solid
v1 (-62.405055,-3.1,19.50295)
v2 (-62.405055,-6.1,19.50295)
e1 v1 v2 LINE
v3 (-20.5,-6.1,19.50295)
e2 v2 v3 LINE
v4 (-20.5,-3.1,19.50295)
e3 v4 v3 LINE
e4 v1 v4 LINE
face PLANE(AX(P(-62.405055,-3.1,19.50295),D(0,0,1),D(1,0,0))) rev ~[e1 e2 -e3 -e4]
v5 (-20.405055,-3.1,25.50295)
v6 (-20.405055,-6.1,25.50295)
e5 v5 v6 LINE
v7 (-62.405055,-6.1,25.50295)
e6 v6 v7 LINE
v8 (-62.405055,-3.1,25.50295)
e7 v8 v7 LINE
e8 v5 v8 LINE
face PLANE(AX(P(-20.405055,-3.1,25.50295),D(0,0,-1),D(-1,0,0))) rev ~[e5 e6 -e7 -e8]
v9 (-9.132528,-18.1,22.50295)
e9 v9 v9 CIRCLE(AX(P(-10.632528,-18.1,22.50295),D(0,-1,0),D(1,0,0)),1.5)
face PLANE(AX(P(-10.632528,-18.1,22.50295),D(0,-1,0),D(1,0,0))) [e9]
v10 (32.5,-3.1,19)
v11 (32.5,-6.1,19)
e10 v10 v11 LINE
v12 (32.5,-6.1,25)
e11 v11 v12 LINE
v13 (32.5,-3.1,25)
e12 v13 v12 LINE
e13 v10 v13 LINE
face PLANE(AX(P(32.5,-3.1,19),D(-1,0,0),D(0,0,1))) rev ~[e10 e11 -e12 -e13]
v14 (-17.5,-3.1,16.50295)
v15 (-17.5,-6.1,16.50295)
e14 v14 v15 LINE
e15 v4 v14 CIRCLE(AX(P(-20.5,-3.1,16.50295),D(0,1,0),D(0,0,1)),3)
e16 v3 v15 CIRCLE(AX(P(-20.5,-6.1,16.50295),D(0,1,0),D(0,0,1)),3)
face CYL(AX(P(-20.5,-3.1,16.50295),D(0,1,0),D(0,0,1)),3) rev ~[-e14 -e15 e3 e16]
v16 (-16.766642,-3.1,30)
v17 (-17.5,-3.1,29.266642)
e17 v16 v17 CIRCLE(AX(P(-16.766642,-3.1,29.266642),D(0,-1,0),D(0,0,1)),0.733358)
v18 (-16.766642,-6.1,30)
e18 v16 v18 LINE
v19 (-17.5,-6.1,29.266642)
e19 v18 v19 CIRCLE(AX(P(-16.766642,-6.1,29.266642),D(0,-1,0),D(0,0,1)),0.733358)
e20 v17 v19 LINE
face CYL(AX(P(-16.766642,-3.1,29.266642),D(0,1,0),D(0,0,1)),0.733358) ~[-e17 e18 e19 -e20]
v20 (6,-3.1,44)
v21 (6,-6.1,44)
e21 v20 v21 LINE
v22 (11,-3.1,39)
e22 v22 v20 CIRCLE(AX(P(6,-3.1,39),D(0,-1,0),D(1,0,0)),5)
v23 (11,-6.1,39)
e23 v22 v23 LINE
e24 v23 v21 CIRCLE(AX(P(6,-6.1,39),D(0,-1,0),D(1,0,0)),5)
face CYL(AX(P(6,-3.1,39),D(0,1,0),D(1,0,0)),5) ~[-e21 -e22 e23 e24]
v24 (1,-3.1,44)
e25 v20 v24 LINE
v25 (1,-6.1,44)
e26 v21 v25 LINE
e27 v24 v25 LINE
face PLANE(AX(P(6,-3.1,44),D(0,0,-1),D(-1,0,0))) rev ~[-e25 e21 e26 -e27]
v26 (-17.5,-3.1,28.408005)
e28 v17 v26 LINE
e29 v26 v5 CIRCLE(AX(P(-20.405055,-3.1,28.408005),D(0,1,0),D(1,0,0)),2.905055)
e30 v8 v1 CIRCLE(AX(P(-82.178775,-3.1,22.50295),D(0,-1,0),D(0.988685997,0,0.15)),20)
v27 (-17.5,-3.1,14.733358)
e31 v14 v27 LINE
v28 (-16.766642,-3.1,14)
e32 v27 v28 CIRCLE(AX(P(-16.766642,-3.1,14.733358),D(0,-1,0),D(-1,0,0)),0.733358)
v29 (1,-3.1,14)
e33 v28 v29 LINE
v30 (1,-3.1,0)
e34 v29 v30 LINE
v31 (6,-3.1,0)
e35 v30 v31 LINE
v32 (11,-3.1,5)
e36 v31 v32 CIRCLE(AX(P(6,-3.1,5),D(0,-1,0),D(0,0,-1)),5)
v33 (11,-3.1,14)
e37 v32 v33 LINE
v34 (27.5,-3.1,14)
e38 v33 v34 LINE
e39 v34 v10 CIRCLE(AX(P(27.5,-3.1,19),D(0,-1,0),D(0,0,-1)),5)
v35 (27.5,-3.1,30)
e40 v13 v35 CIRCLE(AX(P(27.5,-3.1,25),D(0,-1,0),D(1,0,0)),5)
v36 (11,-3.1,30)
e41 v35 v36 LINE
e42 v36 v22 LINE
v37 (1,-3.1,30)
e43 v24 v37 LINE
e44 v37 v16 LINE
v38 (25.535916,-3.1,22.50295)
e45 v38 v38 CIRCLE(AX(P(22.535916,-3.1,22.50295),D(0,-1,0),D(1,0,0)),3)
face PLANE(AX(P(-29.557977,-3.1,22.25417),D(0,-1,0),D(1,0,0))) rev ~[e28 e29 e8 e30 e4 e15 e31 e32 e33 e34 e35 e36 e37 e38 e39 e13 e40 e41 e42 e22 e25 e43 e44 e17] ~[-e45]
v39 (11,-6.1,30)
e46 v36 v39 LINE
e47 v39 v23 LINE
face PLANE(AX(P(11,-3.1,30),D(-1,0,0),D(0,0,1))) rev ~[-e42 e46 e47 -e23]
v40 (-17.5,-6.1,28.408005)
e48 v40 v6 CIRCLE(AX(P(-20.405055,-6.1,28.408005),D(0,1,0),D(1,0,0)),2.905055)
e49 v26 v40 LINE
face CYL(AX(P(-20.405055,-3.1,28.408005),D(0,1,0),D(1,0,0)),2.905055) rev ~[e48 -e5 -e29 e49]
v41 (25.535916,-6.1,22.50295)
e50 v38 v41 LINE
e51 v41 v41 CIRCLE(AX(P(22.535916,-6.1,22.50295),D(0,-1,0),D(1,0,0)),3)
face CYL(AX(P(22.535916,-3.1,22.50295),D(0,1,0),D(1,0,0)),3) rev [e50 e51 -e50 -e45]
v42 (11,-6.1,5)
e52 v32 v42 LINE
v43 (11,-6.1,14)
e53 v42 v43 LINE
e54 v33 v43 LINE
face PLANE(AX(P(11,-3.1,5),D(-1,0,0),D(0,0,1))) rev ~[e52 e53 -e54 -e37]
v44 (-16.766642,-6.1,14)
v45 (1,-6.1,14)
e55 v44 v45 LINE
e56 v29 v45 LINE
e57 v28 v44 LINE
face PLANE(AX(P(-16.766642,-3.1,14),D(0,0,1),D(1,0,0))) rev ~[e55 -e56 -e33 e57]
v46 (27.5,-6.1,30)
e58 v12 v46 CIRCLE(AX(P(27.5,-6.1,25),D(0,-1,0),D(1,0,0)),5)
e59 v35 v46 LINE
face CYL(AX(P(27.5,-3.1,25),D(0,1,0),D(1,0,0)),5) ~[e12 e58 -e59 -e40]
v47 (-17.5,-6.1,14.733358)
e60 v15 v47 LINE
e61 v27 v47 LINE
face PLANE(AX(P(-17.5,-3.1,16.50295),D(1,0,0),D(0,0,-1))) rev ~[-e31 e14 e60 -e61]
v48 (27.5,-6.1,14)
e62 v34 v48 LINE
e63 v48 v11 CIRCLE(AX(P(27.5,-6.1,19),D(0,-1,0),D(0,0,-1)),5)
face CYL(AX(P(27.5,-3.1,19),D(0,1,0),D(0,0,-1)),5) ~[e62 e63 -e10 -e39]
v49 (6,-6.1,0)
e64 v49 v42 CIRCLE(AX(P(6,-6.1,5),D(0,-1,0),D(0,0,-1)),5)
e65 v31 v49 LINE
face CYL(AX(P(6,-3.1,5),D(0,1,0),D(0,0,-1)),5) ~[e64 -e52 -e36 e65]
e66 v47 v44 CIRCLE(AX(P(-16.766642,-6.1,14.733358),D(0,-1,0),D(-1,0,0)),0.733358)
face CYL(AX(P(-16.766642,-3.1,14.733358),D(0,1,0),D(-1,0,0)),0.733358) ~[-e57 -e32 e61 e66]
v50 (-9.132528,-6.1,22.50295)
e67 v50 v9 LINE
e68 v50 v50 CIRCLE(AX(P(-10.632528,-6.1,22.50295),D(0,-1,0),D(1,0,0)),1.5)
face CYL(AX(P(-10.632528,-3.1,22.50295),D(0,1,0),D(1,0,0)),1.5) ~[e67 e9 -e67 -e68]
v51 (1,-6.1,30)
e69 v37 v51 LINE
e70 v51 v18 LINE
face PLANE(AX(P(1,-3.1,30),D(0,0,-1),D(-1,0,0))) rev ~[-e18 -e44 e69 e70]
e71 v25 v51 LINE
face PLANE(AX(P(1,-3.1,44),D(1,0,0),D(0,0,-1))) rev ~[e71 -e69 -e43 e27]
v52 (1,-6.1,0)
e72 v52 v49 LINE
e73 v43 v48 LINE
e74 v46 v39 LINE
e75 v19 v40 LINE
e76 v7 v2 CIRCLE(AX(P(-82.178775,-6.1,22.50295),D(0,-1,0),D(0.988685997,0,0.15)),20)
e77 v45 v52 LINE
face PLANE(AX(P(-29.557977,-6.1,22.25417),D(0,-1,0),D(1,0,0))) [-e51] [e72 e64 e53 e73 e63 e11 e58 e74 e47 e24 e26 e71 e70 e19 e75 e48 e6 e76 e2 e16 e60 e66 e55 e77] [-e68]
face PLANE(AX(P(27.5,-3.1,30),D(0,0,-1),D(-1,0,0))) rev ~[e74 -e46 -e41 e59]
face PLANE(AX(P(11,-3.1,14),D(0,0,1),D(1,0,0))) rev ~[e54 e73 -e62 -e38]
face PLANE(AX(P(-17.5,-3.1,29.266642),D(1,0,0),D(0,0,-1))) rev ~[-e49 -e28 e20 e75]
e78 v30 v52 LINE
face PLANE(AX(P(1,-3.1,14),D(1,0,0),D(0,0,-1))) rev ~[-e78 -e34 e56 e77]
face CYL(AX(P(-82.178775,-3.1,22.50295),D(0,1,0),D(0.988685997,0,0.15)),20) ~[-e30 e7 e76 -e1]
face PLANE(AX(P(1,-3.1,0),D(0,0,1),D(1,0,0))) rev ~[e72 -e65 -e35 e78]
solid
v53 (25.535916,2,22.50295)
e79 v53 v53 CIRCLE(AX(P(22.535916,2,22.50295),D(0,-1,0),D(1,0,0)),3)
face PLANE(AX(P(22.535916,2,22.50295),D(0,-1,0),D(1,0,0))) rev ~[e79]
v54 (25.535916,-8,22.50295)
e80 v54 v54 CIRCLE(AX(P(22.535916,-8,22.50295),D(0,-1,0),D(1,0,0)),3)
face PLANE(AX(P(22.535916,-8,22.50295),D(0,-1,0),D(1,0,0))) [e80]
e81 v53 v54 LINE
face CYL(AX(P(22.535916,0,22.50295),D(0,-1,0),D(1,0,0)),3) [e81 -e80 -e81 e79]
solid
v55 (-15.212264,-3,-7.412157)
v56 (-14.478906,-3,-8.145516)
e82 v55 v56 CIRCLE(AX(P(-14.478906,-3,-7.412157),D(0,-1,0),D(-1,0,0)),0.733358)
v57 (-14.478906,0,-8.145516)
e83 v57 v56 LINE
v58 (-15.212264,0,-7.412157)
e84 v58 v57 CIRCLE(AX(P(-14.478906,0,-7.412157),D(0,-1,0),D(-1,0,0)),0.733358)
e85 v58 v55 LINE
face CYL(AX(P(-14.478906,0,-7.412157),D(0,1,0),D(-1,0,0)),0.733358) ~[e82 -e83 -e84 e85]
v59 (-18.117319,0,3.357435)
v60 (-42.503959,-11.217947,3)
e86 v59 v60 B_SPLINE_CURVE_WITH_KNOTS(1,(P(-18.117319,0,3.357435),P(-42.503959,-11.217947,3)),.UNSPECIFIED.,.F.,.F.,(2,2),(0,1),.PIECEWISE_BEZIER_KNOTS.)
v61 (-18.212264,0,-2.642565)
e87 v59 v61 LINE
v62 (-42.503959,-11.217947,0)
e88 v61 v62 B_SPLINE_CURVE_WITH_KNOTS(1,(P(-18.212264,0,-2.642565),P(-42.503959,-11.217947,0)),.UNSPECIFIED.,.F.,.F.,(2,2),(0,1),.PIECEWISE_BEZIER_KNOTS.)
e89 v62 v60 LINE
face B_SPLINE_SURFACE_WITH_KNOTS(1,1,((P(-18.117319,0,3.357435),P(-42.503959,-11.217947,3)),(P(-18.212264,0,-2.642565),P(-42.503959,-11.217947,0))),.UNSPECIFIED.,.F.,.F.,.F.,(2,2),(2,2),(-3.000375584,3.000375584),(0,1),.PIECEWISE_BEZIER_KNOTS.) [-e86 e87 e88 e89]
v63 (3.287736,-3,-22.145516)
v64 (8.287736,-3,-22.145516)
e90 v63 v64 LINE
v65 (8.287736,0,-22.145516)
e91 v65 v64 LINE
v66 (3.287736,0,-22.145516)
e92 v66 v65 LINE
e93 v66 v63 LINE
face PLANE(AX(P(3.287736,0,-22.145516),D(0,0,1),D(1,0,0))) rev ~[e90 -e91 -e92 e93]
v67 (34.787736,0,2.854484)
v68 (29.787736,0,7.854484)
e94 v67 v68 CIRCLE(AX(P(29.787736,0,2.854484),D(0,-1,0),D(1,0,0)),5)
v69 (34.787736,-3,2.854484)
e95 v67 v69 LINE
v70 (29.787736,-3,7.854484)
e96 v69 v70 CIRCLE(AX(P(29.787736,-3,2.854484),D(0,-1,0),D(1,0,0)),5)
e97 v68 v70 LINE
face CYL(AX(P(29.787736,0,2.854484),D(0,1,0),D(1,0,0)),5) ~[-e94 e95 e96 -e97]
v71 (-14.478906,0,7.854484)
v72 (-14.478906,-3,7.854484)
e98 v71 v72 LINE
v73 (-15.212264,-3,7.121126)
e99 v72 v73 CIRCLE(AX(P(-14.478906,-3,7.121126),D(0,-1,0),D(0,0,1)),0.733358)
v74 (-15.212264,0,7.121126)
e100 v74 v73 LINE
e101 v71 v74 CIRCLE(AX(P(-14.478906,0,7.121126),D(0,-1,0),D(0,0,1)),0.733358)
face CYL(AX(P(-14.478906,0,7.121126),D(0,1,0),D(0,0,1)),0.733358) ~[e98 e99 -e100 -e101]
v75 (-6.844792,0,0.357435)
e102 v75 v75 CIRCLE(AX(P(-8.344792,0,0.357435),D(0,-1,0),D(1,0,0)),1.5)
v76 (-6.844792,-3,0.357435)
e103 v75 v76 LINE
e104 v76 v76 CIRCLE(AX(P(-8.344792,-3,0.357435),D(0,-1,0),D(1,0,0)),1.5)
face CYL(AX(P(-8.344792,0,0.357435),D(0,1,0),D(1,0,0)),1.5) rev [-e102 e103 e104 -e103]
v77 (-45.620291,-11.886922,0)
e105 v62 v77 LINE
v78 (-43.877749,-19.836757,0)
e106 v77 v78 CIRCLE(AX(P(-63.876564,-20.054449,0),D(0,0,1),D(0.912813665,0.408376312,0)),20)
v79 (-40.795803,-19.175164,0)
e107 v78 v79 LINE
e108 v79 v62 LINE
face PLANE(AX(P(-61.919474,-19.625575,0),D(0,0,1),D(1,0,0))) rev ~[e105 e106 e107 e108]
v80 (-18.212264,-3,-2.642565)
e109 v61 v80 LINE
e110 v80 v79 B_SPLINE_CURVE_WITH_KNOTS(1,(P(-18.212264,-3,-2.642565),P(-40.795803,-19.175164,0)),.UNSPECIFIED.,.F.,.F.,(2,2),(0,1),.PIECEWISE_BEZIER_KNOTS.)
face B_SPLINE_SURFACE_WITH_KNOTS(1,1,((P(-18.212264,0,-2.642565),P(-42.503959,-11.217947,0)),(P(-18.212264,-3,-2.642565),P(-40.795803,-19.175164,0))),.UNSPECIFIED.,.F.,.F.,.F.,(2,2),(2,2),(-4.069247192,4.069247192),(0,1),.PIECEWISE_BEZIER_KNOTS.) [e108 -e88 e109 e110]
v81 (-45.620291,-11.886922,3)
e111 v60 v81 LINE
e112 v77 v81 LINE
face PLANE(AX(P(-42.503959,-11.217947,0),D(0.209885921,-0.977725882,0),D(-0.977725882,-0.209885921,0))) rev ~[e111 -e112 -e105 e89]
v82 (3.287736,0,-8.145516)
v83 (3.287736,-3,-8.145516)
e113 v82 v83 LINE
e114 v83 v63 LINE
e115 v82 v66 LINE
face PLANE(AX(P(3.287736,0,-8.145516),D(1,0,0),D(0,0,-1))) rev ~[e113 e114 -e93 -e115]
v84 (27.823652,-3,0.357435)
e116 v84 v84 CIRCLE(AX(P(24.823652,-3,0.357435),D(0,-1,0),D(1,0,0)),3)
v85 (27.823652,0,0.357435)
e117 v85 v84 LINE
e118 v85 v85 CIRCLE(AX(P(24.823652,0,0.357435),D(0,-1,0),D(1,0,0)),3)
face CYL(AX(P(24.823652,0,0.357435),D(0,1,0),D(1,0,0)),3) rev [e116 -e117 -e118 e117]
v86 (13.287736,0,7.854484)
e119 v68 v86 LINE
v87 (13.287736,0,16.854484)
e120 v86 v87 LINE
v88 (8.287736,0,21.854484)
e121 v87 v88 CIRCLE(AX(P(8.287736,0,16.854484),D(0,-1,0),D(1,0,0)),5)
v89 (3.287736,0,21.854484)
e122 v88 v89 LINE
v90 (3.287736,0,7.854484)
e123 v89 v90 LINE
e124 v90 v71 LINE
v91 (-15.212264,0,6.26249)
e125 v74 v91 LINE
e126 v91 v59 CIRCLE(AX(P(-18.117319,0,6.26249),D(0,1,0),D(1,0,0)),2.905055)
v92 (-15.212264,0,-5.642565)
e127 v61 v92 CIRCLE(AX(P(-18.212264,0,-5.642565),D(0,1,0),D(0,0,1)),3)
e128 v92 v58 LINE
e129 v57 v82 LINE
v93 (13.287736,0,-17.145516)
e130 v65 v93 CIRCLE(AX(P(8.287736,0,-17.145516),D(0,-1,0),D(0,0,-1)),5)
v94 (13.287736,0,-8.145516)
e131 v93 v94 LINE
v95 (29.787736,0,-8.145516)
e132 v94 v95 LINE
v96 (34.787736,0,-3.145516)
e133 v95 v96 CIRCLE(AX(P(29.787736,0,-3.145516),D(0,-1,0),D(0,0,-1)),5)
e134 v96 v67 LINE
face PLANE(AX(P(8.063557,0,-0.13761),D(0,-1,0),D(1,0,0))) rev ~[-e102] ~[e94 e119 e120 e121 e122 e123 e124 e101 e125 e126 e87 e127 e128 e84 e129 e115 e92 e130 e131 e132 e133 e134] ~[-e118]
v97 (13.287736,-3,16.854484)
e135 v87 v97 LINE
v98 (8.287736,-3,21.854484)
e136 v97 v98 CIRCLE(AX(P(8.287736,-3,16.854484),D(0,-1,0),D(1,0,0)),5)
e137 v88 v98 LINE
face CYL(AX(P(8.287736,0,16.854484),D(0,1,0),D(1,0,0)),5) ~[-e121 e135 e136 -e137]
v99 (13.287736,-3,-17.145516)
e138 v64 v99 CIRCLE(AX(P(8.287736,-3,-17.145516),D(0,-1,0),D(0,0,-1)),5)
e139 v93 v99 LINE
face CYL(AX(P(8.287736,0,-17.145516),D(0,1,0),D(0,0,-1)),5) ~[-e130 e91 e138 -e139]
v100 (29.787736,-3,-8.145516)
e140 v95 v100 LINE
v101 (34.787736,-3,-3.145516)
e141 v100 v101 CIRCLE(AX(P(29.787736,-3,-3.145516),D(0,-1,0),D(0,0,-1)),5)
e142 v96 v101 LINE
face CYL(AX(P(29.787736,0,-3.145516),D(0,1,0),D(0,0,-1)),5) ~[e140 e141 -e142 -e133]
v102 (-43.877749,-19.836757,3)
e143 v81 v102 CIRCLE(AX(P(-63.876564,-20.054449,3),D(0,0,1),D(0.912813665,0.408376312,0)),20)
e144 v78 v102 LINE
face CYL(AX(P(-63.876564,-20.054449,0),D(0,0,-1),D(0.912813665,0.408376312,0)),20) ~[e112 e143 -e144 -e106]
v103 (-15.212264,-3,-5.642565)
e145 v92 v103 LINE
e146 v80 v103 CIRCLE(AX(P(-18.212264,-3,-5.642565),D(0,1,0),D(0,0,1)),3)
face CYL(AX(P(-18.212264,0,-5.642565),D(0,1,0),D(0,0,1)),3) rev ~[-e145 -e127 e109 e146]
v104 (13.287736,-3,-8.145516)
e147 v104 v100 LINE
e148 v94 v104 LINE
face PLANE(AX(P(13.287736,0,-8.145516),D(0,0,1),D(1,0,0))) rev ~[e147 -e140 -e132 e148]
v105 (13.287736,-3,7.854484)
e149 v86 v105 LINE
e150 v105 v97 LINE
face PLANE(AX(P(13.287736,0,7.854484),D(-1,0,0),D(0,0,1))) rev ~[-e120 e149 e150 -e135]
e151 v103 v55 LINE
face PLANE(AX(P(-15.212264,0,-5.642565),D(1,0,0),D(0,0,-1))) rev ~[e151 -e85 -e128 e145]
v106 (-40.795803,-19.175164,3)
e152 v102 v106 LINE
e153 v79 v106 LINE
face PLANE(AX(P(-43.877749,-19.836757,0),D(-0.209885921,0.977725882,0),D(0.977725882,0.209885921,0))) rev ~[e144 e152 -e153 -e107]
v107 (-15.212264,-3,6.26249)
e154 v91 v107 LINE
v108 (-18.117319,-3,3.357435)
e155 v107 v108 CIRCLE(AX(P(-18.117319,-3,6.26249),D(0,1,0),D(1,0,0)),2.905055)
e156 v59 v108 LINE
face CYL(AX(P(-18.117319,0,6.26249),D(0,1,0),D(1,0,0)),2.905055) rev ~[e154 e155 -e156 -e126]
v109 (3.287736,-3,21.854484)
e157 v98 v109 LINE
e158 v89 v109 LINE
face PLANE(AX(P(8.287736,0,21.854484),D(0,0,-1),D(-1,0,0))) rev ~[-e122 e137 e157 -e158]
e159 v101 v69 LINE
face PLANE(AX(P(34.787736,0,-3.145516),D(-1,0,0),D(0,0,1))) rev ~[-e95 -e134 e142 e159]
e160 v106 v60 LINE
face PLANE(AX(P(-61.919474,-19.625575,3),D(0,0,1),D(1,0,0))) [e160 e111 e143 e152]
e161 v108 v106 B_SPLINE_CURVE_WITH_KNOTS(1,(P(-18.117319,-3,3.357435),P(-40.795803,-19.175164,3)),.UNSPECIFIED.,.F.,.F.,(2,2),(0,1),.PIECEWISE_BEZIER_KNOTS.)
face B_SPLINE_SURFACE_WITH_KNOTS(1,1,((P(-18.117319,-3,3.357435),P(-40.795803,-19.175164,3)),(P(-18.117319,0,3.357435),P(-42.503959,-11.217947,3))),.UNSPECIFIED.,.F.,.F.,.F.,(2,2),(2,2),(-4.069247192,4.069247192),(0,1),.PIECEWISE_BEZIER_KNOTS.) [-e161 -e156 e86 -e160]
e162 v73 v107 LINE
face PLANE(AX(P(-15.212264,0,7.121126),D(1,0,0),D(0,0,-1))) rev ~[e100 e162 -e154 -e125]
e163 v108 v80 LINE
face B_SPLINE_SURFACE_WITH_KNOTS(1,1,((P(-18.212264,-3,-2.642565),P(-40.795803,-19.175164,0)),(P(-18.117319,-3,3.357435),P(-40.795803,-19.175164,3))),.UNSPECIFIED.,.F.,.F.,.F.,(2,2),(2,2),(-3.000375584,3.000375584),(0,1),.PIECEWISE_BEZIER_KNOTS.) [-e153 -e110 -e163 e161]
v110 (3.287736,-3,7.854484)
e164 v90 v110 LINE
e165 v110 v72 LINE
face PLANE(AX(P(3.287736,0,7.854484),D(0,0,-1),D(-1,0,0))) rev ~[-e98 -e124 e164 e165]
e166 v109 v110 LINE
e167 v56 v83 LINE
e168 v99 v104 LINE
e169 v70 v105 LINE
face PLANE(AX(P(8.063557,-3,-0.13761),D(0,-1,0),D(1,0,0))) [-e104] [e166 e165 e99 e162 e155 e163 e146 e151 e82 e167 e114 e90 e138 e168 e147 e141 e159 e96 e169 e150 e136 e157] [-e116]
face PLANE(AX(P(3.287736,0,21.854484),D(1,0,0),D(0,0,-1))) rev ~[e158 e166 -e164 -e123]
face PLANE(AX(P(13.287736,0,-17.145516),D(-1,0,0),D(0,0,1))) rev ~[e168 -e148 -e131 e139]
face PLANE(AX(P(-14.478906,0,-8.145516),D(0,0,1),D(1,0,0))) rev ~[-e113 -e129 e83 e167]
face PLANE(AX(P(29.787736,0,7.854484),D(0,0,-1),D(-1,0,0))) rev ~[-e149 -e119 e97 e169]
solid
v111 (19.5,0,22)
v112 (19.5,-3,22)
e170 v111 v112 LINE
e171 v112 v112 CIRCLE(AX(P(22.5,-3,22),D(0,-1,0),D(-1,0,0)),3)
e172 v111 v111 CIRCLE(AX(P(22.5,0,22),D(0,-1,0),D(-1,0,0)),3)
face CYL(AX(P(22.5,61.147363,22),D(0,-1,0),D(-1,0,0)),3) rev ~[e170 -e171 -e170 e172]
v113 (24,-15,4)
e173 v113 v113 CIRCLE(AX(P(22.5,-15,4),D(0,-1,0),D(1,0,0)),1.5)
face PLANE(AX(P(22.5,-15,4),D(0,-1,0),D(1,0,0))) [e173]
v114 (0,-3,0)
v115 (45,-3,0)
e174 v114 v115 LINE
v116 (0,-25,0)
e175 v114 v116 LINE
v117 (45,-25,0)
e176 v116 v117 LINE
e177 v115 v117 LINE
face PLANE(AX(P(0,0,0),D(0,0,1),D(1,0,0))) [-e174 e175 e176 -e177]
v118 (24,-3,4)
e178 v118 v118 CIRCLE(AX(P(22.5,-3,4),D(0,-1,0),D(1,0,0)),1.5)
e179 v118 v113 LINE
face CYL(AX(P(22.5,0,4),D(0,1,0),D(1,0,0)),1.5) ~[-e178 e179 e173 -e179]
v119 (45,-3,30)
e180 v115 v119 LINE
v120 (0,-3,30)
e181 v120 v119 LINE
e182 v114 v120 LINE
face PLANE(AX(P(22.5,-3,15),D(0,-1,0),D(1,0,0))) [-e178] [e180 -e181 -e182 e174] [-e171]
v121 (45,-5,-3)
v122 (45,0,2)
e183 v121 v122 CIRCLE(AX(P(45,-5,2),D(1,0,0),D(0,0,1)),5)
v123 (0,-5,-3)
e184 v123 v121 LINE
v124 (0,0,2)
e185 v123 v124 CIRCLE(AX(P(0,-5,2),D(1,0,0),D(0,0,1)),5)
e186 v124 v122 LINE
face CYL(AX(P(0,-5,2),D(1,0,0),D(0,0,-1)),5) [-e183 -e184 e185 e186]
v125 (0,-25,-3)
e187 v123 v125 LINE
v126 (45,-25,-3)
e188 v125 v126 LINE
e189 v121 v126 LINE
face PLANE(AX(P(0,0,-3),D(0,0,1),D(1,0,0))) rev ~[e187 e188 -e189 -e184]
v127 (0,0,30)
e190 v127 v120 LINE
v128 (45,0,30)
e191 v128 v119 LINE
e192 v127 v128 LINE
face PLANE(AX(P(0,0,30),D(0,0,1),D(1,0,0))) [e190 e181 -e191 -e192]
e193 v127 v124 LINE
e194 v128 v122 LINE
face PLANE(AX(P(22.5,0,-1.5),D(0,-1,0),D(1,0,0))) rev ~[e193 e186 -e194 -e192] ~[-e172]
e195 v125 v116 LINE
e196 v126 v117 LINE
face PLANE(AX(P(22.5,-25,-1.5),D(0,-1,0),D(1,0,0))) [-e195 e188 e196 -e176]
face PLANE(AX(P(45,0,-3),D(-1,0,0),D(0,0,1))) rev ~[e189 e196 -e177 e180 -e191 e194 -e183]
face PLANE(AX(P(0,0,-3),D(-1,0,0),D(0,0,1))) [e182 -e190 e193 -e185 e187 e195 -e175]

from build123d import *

# Parameters (mm, degrees)
F0_W          = 45
F0_H          = 30
F0_R          = 1.5
F1_DEPTH      = 3
F0_H_2        = 3
F2_DEPTH      = 25
F3_D          = 6
F4_R          = 5
F5_R          = 1.5
F5_R_2        = 3
F6_DEPTH      = 3
F7_DEPTH      = 8
F7_DEPTH_BACK = 2
F8_DEPTH      = 15
F10_DEPTH     = 15
F13_DEPTH     = 3
F12_R         = 1.5
F12_R_2       = 3
F14_DEPTH     = 3
F14_FACE_W    = 3
F14_FACE_H    = 6.0007511677
F13_FACE_W    = 8.1384943845
F13_FACE_H    = 3


with BuildPart() as f1:
    # F0 (on Front) → F1 (new body)
    with BuildSketch(Plane.XZ):
        with Locations((22.5, 15)):
            Rectangle(F0_W, F0_H)
        with Locations((22.5, 4)):
            Circle(F0_R, mode=Mode.SUBTRACT)
    extrude(amount=F1_DEPTH)

    # F0 (on Front) → F2 (join)
    with BuildSketch(Plane.XZ):
        with Locations((22.5, -1.5)):
            Rectangle(F0_W, F0_H_2)
    extrude(amount=F2_DEPTH)

    # F3 (through all)
    with Locations(Plane(origin=(0, 0, 0), x_dir=(1, 0, 0), z_dir=(0, 1, 0))):
        with Locations((22.5, -22)):
            Hole(F3_D / 2)

    # F4
    f4_edges = [f1.edges().sort_by_distance(p)[0] for p in [
        (22.5, 0, -3),
    ]]
    fillet(f4_edges, radius=F4_R)

    # F0 (on Front) → F10 (join)
    with BuildSketch(Plane.XZ):
        with Locations((22.5, 4)):
            Circle(F0_R)
    extrude(amount=F10_DEPTH)


with BuildPart() as f6:
    # F5 (on Front) → F6 (new body)
    with BuildSketch(Plane.XZ):
        with BuildLine():
            ThreePointArc((32.5, 25), (31.0355339059, 28.5355339059), (27.5, 30))
            Line((27.5, 30), (11, 30))
            Line((11, 30), (11, 39))
            ThreePointArc((11, 39), (9.5355339059, 42.5355339059), (6, 44))
            Line((6, 44), (1, 44))
            Line((1, 44), (1, 30))
            Line((1, 30), (-16.7666415907, 30))
            ThreePointArc((-16.7666415907, 30), (-17.285204295, 29.785204295), (-17.5, 29.2666415907))
            Line((-17.5, 29.2666415907), (-17.5, 28.4080051974))
            ThreePointArc((-17.5, 28.4080051974), (-18.3508708734, 26.353821195), (-20.4050548757, 25.5029503216))
            Line((-20.4050548757, 25.5029503216), (-62.4050548757, 25.5029503216))
            ThreePointArc((-62.4050548757, 25.5029503216), (-102.178774809, 22.5029503216), (-62.4050548757, 19.5029503216))
            Line((-62.4050548757, 19.5029503216), (-20.5, 19.5029503216))
            ThreePointArc((-20.5, 19.5029503216), (-18.3786796564, 18.6242706652), (-17.5, 16.5029503216))
            Line((-17.5, 16.5029503216), (-17.5, 14.7333584093))
            ThreePointArc((-17.5, 14.7333584093), (-17.285204295, 14.214795705), (-16.7666415907, 14))
            Line((-16.7666415907, 14), (1, 14))
            Line((1, 14), (1, 0))
            Line((1, 0), (6, 0))
            ThreePointArc((6, 0), (9.5355339059, 1.4644660941), (11, 5))
            Line((11, 5), (11, 14))
            Line((11, 14), (27.5, 14))
            ThreePointArc((27.5, 14), (31.0355339059, 15.4644660941), (32.5, 19))
            Line((32.5, 19), (32.5, 25))
        make_face()
        with Locations((-10.6325279921, 22.5029503216)):
            Circle(F5_R, mode=Mode.SUBTRACT)
        with Locations((22.5359164178, 22.5029503216)):
            Circle(F5_R_2, mode=Mode.SUBTRACT)
    extrude(amount=F6_DEPTH)

    # F5 (on Front) → F8 (join)
    with BuildSketch(Plane.XZ):
        with Locations((-10.6325279921, 22.5029503216)):
            Circle(F5_R)
    extrude(amount=F8_DEPTH)


with BuildPart() as f7:
    # F5 (on Front) → F7 (new body, two sides)
    with BuildSketch(Plane.XZ) as f7_sk:
        with Locations((22.5359164178, 22.5029503216)):
            Circle(F5_R_2)
    extrude(amount=F7_DEPTH)
    extrude(f7_sk.sketch, amount=-F7_DEPTH_BACK)


with BuildPart() as f6_1:
    # F9: moved
    add(f6.part.moved(Location((0, -3.1, 0))))


with BuildPart() as f13:
    # F11 (on Top) → F13 (new body)
    with BuildSketch(Plane.XY):
        with BuildLine():
            Line((-42.503958739, -11.217947247), (-45.620290691, -11.8869222764))
            ThreePointArc((-45.620290691, -11.8869222764), (-83.4127590866, -24.3366303772), (-43.8777487707, -19.8367572071))
            Line((-43.8777487707, -19.8367572071), (-40.7958033527, -19.1751638472))
            Line((-40.7958033527, -19.1751638472), (-42.503958739, -11.217947247))
        make_face()
    extrude(amount=F13_DEPTH)



with BuildPart() as f14:
    # F12 (on Front) → F14 (new body)
    with BuildSketch(Plane.XZ):
        with BuildLine():
            ThreePointArc((34.7877358819, 2.8544844273), (33.3232697878, 6.3900183332), (29.7877358819, 7.8544844273))
            Line((29.7877358819, 7.8544844273), (13.2877358819, 7.8544844273))
            Line((13.2877358819, 7.8544844273), (13.2877358819, 16.8544844273))
            ThreePointArc((13.2877358819, 16.8544844273), (11.8232697878, 20.3900183332), (8.2877358819, 21.8544844273))
            Line((8.2877358819, 21.8544844273), (3.2877358819, 21.8544844273))
            Line((3.2877358819, 21.8544844273), (3.2877358819, 7.8544844273))
            Line((3.2877358819, 7.8544844273), (-14.4789057088, 7.8544844273))
            ThreePointArc((-14.4789057088, 7.8544844273), (-14.9974684131, 7.6396887222), (-15.2122641181, 7.121126018))
            Line((-15.2122641181, 7.121126018), (-15.2122641181, 6.2624896246))
            ThreePointArc((-15.2122641181, 6.2624896246), (-16.0631349915, 4.2083056223), (-18.1173189938, 3.3574347489))
            Line((-18.1173189938, 3.3574347489), (-18.2122641181, -2.6425652511))
            ThreePointArc((-18.2122641181, -2.6425652511), (-16.0909437745, -3.5212449075), (-15.2122641181, -5.6425652511))
            Line((-15.2122641181, -5.6425652511), (-15.2122641181, -7.4121571635))
            ThreePointArc((-15.2122641181, -7.4121571635), (-14.9974684131, -7.9307198677), (-14.4789057088, -8.1455155727))
            Line((-14.4789057088, -8.1455155727), (3.2877358819, -8.1455155727))
            Line((3.2877358819, -8.1455155727), (3.2877358819, -22.1455155727))
            Line((3.2877358819, -22.1455155727), (8.2877358819, -22.1455155727))
            ThreePointArc((8.2877358819, -22.1455155727), (11.8232697878, -20.6810494787), (13.2877358819, -17.1455155727))
            Line((13.2877358819, -17.1455155727), (13.2877358819, -8.1455155727))
            Line((13.2877358819, -8.1455155727), (29.7877358819, -8.1455155727))
            ThreePointArc((29.7877358819, -8.1455155727), (33.3232697878, -6.6810494787), (34.7877358819, -3.1455155727))
            Line((34.7877358819, -3.1455155727), (34.7877358819, 2.8544844273))
        make_face()
        with Locations((-8.3447921102, 0.3574347489)):
            Circle(F12_R, mode=Mode.SUBTRACT)
        with Locations((24.8236522997, 0.3574347489)):
            Circle(F12_R_2, mode=Mode.SUBTRACT)
    extrude(amount=F14_DEPTH)


with BuildPart() as f13_1:
    add(f13.part)

    add(f14.part)  # F15 merges F14
    # F14_face (on face) → F15 section 0
    with BuildSketch(Plane(origin=(-18.1647915559, -1.5, 0.3574347489), x_dir=(0, -1, 0), z_dir=(-0.9998748211, 0, 0.0158222065))):
        Rectangle(F14_FACE_W, F14_FACE_H)
    # F13_face (on face) → F15 section 1
    with BuildSketch(Plane(origin=(-41.6498810458, -15.1965555471, 1.5), x_dir=(-0.2098859206, 0.977725882, 0), z_dir=(0.977725882, 0.2098859206, 0))):
        Rectangle(F13_FACE_W, F13_FACE_H)
    loft()


solid = Compound([f1.part, f7.part, f6_1.part, f13_1.part])
